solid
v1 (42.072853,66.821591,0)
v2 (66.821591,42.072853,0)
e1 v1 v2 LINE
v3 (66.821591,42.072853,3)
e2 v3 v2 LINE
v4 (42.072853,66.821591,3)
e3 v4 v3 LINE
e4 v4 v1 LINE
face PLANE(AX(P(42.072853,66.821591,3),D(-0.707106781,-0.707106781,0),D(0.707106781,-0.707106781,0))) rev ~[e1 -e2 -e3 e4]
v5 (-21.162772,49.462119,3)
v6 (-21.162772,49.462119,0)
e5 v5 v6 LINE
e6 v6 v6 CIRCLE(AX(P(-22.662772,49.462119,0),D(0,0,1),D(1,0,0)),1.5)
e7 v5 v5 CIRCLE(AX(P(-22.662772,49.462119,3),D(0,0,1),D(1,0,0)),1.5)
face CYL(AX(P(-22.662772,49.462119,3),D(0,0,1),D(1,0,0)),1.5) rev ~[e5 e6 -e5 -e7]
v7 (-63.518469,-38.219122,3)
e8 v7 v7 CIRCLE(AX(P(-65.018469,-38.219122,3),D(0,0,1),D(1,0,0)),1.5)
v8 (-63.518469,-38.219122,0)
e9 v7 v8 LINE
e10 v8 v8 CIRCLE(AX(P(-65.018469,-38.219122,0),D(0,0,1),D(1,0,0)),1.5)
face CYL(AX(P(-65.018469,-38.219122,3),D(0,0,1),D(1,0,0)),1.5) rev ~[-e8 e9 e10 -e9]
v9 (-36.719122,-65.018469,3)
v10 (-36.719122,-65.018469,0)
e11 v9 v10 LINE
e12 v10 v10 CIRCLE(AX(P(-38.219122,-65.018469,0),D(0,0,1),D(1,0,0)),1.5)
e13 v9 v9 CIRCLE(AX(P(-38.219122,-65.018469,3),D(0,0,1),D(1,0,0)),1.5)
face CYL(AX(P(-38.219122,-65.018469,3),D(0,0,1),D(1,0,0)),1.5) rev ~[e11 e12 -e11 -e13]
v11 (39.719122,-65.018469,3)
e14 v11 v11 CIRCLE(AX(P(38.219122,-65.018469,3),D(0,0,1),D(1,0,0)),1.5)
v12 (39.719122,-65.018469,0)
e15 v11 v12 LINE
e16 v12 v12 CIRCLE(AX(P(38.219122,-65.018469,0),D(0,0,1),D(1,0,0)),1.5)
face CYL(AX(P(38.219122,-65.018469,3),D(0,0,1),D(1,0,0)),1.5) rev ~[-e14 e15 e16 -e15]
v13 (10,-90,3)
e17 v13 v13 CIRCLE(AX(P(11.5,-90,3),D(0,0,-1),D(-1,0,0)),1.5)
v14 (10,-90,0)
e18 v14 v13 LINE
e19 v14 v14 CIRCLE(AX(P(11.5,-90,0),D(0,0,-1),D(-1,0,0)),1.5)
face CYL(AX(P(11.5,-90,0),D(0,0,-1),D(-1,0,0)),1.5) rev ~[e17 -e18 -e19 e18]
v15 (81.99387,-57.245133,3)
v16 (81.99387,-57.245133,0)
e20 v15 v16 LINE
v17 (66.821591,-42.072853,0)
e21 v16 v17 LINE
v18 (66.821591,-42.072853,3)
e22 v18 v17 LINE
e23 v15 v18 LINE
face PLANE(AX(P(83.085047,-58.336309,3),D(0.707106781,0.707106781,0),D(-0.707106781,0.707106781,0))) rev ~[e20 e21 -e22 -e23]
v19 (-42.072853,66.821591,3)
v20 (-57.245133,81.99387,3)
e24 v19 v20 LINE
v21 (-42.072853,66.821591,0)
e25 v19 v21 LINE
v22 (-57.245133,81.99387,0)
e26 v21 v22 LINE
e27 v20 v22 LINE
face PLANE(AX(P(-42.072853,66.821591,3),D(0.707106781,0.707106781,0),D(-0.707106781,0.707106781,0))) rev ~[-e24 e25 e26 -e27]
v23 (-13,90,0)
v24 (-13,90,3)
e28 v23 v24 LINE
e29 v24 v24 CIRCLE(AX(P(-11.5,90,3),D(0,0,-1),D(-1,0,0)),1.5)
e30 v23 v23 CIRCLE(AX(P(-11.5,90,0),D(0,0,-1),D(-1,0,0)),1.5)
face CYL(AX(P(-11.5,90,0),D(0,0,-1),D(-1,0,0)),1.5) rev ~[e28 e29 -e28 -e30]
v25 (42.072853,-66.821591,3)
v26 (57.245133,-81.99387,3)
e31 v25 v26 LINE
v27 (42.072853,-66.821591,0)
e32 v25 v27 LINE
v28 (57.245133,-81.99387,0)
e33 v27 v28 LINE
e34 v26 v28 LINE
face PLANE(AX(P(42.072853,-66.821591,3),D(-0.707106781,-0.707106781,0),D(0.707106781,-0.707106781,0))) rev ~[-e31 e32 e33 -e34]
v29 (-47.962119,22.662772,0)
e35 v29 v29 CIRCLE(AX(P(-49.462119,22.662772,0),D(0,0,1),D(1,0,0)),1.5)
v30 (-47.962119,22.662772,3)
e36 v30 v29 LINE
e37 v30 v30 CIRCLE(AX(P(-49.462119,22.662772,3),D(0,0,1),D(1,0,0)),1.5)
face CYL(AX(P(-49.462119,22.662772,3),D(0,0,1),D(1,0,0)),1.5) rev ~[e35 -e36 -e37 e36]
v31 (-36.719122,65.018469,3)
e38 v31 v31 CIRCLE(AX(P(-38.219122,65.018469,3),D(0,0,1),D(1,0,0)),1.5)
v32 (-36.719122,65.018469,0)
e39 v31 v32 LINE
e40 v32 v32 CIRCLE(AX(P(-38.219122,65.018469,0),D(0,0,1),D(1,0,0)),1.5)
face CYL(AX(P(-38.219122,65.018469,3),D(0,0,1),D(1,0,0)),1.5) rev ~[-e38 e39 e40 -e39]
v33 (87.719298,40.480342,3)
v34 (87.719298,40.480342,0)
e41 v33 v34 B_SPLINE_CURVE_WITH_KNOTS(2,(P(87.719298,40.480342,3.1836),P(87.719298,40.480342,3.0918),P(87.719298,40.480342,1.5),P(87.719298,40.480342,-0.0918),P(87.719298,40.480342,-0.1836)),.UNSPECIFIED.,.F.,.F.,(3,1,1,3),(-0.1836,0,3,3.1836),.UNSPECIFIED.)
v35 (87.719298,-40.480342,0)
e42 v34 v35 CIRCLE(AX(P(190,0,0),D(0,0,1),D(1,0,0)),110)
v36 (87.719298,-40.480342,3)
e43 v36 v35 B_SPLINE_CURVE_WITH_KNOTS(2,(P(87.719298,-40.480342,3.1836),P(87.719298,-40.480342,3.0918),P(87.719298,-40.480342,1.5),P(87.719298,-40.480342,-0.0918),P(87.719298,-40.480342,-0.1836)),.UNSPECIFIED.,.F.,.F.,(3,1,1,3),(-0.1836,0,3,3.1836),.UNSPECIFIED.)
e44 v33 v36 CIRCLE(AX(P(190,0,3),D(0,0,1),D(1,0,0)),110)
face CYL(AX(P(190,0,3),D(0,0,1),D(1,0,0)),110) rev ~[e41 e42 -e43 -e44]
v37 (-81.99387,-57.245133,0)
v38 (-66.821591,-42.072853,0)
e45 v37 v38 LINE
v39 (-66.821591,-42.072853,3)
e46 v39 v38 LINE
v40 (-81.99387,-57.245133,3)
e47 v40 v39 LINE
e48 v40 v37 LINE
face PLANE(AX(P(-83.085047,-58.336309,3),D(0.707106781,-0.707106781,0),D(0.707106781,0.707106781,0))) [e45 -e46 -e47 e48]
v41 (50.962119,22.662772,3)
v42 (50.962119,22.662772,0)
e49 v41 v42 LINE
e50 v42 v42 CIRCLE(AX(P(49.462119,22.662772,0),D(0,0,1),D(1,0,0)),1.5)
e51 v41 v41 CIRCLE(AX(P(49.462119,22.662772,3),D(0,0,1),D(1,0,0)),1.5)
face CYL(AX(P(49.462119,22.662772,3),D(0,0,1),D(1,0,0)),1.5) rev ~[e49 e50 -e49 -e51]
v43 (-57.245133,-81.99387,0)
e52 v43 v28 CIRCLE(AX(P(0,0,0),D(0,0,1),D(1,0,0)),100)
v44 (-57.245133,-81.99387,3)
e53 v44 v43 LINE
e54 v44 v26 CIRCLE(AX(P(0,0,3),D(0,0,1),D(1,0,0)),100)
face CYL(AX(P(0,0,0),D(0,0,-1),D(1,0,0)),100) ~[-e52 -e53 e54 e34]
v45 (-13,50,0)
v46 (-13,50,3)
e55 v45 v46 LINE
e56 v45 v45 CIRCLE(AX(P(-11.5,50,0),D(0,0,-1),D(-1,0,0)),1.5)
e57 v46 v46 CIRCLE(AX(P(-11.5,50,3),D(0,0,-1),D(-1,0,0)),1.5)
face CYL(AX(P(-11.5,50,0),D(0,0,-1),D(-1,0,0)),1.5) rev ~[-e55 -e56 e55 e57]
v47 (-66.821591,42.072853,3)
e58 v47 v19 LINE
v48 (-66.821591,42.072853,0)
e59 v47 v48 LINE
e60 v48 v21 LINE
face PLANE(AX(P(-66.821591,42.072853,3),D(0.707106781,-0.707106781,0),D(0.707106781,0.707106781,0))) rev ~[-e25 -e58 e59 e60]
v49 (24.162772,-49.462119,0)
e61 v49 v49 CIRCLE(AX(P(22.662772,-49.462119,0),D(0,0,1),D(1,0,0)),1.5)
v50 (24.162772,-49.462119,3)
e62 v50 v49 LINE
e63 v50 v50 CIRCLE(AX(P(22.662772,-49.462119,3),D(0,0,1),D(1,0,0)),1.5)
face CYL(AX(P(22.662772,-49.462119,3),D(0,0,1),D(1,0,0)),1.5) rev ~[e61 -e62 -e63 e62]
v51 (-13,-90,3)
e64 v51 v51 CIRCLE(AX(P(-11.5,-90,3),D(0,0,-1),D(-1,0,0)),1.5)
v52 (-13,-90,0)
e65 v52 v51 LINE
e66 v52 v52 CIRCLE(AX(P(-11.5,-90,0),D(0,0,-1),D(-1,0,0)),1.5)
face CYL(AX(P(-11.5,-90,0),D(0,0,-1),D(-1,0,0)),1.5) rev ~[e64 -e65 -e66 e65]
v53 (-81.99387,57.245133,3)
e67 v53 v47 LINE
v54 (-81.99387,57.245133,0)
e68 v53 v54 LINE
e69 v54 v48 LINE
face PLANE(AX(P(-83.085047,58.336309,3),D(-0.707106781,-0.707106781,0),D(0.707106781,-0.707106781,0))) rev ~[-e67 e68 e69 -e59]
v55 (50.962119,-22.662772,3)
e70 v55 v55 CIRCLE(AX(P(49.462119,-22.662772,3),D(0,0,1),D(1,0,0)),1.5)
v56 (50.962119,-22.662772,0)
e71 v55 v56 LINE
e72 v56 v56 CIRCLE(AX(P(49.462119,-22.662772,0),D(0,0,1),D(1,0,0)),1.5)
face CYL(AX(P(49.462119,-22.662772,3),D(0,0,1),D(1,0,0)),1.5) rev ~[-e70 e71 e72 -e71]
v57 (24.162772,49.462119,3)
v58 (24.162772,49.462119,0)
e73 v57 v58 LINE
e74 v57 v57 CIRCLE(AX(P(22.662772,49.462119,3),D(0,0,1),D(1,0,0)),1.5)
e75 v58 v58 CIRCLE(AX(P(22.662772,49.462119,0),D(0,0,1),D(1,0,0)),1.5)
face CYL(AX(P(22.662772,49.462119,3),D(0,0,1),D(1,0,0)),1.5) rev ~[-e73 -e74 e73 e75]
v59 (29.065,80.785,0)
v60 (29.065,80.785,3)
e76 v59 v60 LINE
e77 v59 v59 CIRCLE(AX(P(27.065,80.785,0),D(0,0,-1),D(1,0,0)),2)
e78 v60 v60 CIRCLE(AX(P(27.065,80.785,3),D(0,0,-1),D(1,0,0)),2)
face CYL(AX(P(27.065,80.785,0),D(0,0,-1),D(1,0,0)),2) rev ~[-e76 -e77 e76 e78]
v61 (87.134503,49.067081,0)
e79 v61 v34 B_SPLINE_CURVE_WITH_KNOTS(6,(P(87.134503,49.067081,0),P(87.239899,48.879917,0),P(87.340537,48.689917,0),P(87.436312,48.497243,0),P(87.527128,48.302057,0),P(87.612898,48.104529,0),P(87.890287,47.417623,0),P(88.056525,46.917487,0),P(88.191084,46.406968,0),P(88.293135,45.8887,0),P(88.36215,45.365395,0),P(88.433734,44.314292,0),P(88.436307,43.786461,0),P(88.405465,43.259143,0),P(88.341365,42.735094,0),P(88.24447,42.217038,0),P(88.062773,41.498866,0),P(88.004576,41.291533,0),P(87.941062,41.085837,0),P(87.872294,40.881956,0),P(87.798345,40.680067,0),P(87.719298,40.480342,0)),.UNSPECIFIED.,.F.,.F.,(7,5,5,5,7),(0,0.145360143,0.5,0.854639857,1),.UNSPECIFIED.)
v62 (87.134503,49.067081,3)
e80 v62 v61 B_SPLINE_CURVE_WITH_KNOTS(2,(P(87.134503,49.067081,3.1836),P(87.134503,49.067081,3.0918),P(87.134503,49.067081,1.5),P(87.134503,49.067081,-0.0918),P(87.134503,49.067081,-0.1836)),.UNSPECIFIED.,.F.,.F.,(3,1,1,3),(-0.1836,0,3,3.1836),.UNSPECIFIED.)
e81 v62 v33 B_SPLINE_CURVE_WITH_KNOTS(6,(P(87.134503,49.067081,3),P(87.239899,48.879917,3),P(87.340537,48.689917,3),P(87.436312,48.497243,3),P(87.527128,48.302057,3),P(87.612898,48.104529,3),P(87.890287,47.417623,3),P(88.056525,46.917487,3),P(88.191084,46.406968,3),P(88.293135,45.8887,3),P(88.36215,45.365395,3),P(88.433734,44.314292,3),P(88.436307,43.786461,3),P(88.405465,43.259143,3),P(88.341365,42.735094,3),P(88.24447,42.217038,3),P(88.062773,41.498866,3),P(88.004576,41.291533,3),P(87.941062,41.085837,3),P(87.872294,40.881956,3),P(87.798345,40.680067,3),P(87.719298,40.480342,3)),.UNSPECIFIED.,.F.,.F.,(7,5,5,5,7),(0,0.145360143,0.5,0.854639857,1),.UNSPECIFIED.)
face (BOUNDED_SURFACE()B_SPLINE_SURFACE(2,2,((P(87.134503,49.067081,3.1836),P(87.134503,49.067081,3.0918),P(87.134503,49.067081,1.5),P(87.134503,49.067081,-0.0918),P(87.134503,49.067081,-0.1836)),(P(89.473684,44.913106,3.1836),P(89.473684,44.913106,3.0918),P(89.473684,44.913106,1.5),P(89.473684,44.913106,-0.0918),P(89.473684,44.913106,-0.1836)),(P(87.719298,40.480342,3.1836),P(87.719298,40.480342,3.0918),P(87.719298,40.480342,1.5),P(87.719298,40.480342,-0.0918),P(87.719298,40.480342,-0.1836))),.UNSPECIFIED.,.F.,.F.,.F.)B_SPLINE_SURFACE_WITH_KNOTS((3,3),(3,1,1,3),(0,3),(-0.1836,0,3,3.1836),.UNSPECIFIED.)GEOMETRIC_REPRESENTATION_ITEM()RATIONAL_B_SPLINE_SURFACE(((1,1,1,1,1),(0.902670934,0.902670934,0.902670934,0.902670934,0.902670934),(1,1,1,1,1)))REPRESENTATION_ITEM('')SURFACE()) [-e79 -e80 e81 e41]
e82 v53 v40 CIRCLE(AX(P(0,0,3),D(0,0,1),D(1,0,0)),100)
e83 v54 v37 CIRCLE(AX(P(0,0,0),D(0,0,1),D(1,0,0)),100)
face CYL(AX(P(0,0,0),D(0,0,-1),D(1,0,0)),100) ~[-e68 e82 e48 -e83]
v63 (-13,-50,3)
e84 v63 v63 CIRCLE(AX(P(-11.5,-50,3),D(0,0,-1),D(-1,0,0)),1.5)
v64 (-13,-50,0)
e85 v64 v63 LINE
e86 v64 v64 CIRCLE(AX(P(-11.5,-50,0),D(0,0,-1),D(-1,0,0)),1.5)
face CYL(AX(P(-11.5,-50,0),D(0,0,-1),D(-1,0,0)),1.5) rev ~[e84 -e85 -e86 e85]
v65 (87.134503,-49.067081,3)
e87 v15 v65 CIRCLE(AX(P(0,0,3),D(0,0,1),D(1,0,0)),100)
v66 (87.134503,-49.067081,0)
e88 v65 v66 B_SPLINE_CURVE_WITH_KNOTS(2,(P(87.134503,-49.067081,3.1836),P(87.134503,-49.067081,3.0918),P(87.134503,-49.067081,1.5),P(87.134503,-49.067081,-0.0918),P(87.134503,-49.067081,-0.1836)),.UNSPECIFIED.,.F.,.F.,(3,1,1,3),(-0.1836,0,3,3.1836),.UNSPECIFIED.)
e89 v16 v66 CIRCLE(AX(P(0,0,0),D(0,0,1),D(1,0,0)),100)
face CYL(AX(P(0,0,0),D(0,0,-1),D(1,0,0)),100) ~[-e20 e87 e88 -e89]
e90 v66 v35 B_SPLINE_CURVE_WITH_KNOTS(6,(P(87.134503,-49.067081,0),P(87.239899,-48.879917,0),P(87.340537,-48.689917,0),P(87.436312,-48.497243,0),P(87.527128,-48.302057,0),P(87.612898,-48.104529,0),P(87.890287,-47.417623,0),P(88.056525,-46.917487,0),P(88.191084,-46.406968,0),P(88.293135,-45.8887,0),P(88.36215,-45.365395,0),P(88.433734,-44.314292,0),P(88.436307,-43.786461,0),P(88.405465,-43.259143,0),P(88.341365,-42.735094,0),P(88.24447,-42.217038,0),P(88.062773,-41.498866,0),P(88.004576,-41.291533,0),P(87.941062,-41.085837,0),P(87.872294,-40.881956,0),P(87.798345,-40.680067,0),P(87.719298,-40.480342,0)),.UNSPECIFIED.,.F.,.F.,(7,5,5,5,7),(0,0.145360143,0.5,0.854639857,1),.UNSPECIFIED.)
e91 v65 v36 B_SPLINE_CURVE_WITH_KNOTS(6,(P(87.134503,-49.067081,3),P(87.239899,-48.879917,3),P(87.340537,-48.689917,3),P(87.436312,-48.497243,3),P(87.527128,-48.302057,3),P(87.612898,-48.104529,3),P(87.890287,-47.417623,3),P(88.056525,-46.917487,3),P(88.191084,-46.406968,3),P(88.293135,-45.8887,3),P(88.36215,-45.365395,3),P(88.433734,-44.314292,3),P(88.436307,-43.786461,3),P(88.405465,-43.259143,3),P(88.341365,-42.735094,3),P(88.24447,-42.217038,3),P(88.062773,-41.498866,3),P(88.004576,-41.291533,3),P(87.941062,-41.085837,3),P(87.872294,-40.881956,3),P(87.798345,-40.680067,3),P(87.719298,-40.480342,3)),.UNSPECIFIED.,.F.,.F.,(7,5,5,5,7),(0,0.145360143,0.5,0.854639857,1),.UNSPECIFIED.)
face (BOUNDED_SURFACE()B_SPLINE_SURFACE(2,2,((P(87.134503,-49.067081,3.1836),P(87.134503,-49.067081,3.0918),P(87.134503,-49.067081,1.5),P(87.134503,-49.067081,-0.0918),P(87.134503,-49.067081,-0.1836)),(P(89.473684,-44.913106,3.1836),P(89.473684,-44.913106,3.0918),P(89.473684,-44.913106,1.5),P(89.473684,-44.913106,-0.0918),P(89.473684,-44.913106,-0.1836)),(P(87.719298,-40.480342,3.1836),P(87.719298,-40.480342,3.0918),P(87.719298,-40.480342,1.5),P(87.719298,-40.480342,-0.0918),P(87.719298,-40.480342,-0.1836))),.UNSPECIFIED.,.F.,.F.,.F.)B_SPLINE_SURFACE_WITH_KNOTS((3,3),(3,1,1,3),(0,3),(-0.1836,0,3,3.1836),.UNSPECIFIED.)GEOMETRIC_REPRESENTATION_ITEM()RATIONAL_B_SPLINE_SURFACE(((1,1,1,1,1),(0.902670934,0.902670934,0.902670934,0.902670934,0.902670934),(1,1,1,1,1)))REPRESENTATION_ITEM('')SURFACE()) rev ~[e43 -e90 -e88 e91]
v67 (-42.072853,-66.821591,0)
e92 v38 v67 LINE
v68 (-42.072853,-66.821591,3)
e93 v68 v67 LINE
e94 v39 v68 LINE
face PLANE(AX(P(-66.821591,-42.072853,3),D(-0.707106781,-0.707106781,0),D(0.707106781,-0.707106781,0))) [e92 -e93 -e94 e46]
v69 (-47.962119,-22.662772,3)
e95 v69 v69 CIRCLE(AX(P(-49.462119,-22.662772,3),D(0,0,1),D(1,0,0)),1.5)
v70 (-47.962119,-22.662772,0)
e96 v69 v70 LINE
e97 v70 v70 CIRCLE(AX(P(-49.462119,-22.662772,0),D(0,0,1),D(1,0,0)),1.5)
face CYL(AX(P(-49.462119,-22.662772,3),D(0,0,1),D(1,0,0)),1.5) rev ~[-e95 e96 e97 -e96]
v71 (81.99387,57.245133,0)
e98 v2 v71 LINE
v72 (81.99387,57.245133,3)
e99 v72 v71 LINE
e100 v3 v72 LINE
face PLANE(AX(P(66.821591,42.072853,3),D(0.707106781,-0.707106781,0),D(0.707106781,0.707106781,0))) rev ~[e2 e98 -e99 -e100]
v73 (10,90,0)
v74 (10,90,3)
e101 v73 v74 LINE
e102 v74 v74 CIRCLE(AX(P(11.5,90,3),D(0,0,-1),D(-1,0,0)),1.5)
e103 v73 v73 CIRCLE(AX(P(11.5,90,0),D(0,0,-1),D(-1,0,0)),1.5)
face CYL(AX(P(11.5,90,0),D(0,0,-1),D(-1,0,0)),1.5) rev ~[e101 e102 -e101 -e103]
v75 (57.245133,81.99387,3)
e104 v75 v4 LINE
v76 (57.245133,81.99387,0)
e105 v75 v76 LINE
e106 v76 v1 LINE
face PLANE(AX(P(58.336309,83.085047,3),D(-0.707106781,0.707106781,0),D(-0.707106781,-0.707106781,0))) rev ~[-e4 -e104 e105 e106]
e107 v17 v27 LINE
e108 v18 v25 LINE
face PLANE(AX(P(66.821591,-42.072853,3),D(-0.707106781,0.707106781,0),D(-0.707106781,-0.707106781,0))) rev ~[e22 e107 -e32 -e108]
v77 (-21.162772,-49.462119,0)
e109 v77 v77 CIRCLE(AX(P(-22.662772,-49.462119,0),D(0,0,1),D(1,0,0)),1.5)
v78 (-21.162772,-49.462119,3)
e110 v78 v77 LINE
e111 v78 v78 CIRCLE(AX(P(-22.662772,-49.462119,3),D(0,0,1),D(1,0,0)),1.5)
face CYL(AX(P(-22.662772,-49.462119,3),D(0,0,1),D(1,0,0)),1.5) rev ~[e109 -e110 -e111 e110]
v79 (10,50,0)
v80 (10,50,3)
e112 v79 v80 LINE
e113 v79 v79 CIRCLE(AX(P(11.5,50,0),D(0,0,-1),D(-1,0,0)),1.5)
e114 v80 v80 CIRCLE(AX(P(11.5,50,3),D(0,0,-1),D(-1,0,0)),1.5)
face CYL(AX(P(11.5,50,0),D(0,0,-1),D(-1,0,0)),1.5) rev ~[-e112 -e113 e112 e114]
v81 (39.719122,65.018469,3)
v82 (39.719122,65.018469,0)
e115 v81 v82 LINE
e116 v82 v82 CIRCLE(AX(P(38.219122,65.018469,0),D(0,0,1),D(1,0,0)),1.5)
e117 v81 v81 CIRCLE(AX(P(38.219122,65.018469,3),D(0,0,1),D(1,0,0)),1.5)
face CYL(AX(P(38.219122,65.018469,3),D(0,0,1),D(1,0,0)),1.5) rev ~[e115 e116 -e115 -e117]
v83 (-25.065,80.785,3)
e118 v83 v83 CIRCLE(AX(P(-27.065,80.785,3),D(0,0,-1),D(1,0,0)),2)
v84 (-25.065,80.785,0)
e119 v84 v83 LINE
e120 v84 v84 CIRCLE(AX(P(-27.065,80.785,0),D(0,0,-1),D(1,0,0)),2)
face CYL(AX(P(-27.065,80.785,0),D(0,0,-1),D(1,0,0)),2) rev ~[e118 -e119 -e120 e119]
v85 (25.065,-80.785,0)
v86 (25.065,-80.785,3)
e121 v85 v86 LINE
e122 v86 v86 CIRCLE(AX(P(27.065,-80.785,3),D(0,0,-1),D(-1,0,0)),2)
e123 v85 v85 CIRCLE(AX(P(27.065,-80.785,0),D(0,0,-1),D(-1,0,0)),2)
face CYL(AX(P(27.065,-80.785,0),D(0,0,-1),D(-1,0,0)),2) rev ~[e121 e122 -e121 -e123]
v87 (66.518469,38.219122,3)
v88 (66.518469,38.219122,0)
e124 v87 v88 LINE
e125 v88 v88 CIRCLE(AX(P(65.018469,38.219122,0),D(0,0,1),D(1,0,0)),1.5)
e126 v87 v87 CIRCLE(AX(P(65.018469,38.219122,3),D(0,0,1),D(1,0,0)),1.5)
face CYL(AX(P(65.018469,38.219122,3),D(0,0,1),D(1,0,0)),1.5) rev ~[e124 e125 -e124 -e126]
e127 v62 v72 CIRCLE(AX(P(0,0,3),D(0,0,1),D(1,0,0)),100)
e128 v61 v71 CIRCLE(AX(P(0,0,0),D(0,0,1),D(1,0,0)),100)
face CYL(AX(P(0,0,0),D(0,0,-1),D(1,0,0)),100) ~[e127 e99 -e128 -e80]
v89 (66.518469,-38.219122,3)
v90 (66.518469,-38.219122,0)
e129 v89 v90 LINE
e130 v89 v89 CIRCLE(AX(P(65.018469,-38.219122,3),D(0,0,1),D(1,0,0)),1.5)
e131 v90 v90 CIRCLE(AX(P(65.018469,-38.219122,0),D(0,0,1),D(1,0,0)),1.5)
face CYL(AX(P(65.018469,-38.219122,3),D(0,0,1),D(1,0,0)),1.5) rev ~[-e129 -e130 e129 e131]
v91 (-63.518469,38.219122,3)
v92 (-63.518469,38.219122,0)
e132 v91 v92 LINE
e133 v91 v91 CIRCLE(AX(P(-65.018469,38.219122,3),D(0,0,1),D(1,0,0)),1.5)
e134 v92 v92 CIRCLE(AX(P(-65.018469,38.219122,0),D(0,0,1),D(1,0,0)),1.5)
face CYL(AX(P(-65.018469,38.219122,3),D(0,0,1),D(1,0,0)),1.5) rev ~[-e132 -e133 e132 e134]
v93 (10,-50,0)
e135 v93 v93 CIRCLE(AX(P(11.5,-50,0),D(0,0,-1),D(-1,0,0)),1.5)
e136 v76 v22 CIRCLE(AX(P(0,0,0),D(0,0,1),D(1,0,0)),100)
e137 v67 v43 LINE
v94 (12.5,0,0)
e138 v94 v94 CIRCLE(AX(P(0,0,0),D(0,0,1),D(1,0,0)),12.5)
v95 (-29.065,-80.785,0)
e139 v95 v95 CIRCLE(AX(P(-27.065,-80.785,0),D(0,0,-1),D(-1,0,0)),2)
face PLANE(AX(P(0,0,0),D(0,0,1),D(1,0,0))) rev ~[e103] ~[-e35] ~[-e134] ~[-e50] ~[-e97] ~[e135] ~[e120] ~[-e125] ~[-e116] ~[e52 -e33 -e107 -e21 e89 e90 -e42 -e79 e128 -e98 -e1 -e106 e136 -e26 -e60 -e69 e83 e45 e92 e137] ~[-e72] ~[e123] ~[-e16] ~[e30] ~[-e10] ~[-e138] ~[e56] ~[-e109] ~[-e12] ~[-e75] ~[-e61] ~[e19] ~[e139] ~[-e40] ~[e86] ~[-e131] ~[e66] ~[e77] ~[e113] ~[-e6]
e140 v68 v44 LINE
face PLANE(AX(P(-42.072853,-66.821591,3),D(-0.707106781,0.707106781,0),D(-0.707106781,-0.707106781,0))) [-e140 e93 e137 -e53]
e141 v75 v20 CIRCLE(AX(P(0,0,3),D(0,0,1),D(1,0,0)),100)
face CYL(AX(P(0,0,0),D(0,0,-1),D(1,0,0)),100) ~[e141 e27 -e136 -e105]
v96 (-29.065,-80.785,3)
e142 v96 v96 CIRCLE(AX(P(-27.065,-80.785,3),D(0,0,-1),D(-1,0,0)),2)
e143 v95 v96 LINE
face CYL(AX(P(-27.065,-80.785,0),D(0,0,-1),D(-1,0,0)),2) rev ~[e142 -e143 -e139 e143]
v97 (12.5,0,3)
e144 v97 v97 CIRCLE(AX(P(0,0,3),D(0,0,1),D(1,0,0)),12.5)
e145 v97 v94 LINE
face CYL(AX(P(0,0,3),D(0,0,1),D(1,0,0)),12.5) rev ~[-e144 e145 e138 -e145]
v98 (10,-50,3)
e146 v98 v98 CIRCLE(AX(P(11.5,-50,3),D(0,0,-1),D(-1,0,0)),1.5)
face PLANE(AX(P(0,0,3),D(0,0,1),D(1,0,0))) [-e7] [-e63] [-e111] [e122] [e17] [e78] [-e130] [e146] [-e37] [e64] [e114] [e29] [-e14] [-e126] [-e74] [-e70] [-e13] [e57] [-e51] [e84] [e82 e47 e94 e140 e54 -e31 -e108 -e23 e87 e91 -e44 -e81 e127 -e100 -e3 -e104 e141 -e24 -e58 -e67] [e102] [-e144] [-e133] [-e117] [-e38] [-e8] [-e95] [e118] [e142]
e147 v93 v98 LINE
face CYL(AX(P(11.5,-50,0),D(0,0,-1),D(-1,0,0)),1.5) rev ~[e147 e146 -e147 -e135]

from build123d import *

# Parameters (mm, degrees)
CROQUIS1_R              = 100
SALIENTE_EXTRUIR1_DEPTH = 3
CROQUIS3_R              = 110
CORTAR_EXTRUIR1_DEPTH   = 3
REDONDEO1_R             = 10
CROQUIS4_R              = 1.5
CROQUIS4_R_2            = 12.5
CORTAR_EXTRUIR2_DEPTH   = 142.453172607
CROQUIS5_R              = 1.5
CORTAR_EXTRUIR3_DEPTH   = 142.453172607
CROQUIS7_R              = 2
CORTAR_EXTRUIR5_DEPTH   = 10


with BuildPart() as part:
    # Croquis1 → Saliente-Extruir1 (new body)
    with BuildSketch(Plane.XY):
        Circle(CROQUIS1_R)
    extrude(amount=SALIENTE_EXTRUIR1_DEPTH)

    # Croquis3 → Cortar-Extruir1 (cut)
    with BuildSketch(Plane.XY.offset(3)):
        with Locations((190, 0)):
            Circle(CROQUIS3_R)
    extrude(amount=-CORTAR_EXTRUIR1_DEPTH, mode=Mode.SUBTRACT)

    # Redondeo1
    redondeo1_edges = [part.edges().sort_by_distance(p)[0] for p in [
        (89.473684211, -44.659375654, 1.5),
        (89.473684211, 44.659375654, 1.5),
    ]]
    fillet(redondeo1_edges, radius=REDONDEO1_R)

    # Croquis4 → Cortar-Extruir2 (cut, through all)
    with BuildSketch(Plane.XY.offset(3)):
        with Locations((-65.01846853, -38.219121523)):
            Circle(CROQUIS4_R)
        with Locations((-49.462119344, -22.662772337)):
            Circle(CROQUIS4_R)
        with Locations((-22.662772337, -49.462119344)):
            Circle(CROQUIS4_R)
        with Locations((-38.219121523, -65.01846853)):
            Circle(CROQUIS4_R)
        with Locations((-22.662772337, 49.462119344)):
            Circle(CROQUIS4_R)
        with Locations((-38.219121523, 65.01846853)):
            Circle(CROQUIS4_R)
        with Locations((-49.462119344, 22.662772337)):
            Circle(CROQUIS4_R)
        with Locations((-65.01846853, 38.219121523)):
            Circle(CROQUIS4_R)
        with Locations((49.462119344, 22.662772337)):
            Circle(CROQUIS4_R)
        with Locations((65.01846853, 38.219121523)):
            Circle(CROQUIS4_R)
        with Locations((22.662772337, 49.462119344)):
            Circle(CROQUIS4_R)
        with Locations((38.219121523, 65.01846853)):
            Circle(CROQUIS4_R)
        with Locations((22.662772337, -49.462119344)):
            Circle(CROQUIS4_R)
        with Locations((38.219121523, -65.01846853)):
            Circle(CROQUIS4_R)
        with Locations((49.462119344, -22.662772337)):
            Circle(CROQUIS4_R)
        with Locations((65.01846853, -38.219121523)):
            Circle(CROQUIS4_R)
        Circle(CROQUIS4_R_2)
        Polygon((-58.336309448, -83.085046789), (-83.085046789, -58.336309448), (-66.821590822, -42.072853481), (-42.072853481, -66.821590822), align=None)
        Polygon((-66.821590822, 42.072853481), (-42.072853481, 66.821590822), (-58.336309448, 83.085046789), (-83.085046789, 58.336309448), align=None)
        Polygon((42.072853481, 66.821590822), (66.821590822, 42.072853481), (83.085046789, 58.336309448), (58.336309448, 83.085046789), align=None)
        Polygon((66.821590822, -42.072853481), (42.072853481, -66.821590822), (58.336309448, -83.085046789), (83.085046789, -58.336309448), align=None)
    extrude(amount=-CORTAR_EXTRUIR2_DEPTH, mode=Mode.SUBTRACT)

    # Croquis5 → Cortar-Extruir3 (cut, through all)
    with BuildSketch(Plane(origin=(0, 0, 0), x_dir=(-1, 0, 0), z_dir=(0, 0, -1))):
        with Locations((11.5, -90)):
            Circle(CROQUIS5_R)
        with Locations((-11.5, -90)):
            Circle(CROQUIS5_R)
        with Locations((-11.5, -50)):
            Circle(CROQUIS5_R)
        with Locations((11.5, -50)):
            Circle(CROQUIS5_R)
        with Locations((-11.5, 90)):
            Circle(CROQUIS5_R)
        with Locations((11.5, 90)):
            Circle(CROQUIS5_R)
        with Locations((11.5, 50)):
            Circle(CROQUIS5_R)
        with Locations((-11.5, 50)):
            Circle(CROQUIS5_R)
    extrude(amount=-CORTAR_EXTRUIR3_DEPTH, mode=Mode.SUBTRACT)

    # Croquis7 → Cortar-Extruir5 (cut)
    with BuildSketch(Plane(origin=(0, 0, 0), x_dir=(-1, 0, 0), z_dir=(0, 0, -1))):
        with Locations((-27.065, -80.785)):
            Circle(CROQUIS7_R)
        with Locations((27.065, -80.785)):
            Circle(CROQUIS7_R)
        with Locations(Location((27.065, 80.785, 0), (0, 0, 180))):
            Circle(CROQUIS7_R)
        with Locations(Location((-27.065, 80.785, 0), (0, 0, 180))):
            Circle(CROQUIS7_R)
    extrude(amount=-CORTAR_EXTRUIR5_DEPTH, mode=Mode.SUBTRACT)


solid = part.part
